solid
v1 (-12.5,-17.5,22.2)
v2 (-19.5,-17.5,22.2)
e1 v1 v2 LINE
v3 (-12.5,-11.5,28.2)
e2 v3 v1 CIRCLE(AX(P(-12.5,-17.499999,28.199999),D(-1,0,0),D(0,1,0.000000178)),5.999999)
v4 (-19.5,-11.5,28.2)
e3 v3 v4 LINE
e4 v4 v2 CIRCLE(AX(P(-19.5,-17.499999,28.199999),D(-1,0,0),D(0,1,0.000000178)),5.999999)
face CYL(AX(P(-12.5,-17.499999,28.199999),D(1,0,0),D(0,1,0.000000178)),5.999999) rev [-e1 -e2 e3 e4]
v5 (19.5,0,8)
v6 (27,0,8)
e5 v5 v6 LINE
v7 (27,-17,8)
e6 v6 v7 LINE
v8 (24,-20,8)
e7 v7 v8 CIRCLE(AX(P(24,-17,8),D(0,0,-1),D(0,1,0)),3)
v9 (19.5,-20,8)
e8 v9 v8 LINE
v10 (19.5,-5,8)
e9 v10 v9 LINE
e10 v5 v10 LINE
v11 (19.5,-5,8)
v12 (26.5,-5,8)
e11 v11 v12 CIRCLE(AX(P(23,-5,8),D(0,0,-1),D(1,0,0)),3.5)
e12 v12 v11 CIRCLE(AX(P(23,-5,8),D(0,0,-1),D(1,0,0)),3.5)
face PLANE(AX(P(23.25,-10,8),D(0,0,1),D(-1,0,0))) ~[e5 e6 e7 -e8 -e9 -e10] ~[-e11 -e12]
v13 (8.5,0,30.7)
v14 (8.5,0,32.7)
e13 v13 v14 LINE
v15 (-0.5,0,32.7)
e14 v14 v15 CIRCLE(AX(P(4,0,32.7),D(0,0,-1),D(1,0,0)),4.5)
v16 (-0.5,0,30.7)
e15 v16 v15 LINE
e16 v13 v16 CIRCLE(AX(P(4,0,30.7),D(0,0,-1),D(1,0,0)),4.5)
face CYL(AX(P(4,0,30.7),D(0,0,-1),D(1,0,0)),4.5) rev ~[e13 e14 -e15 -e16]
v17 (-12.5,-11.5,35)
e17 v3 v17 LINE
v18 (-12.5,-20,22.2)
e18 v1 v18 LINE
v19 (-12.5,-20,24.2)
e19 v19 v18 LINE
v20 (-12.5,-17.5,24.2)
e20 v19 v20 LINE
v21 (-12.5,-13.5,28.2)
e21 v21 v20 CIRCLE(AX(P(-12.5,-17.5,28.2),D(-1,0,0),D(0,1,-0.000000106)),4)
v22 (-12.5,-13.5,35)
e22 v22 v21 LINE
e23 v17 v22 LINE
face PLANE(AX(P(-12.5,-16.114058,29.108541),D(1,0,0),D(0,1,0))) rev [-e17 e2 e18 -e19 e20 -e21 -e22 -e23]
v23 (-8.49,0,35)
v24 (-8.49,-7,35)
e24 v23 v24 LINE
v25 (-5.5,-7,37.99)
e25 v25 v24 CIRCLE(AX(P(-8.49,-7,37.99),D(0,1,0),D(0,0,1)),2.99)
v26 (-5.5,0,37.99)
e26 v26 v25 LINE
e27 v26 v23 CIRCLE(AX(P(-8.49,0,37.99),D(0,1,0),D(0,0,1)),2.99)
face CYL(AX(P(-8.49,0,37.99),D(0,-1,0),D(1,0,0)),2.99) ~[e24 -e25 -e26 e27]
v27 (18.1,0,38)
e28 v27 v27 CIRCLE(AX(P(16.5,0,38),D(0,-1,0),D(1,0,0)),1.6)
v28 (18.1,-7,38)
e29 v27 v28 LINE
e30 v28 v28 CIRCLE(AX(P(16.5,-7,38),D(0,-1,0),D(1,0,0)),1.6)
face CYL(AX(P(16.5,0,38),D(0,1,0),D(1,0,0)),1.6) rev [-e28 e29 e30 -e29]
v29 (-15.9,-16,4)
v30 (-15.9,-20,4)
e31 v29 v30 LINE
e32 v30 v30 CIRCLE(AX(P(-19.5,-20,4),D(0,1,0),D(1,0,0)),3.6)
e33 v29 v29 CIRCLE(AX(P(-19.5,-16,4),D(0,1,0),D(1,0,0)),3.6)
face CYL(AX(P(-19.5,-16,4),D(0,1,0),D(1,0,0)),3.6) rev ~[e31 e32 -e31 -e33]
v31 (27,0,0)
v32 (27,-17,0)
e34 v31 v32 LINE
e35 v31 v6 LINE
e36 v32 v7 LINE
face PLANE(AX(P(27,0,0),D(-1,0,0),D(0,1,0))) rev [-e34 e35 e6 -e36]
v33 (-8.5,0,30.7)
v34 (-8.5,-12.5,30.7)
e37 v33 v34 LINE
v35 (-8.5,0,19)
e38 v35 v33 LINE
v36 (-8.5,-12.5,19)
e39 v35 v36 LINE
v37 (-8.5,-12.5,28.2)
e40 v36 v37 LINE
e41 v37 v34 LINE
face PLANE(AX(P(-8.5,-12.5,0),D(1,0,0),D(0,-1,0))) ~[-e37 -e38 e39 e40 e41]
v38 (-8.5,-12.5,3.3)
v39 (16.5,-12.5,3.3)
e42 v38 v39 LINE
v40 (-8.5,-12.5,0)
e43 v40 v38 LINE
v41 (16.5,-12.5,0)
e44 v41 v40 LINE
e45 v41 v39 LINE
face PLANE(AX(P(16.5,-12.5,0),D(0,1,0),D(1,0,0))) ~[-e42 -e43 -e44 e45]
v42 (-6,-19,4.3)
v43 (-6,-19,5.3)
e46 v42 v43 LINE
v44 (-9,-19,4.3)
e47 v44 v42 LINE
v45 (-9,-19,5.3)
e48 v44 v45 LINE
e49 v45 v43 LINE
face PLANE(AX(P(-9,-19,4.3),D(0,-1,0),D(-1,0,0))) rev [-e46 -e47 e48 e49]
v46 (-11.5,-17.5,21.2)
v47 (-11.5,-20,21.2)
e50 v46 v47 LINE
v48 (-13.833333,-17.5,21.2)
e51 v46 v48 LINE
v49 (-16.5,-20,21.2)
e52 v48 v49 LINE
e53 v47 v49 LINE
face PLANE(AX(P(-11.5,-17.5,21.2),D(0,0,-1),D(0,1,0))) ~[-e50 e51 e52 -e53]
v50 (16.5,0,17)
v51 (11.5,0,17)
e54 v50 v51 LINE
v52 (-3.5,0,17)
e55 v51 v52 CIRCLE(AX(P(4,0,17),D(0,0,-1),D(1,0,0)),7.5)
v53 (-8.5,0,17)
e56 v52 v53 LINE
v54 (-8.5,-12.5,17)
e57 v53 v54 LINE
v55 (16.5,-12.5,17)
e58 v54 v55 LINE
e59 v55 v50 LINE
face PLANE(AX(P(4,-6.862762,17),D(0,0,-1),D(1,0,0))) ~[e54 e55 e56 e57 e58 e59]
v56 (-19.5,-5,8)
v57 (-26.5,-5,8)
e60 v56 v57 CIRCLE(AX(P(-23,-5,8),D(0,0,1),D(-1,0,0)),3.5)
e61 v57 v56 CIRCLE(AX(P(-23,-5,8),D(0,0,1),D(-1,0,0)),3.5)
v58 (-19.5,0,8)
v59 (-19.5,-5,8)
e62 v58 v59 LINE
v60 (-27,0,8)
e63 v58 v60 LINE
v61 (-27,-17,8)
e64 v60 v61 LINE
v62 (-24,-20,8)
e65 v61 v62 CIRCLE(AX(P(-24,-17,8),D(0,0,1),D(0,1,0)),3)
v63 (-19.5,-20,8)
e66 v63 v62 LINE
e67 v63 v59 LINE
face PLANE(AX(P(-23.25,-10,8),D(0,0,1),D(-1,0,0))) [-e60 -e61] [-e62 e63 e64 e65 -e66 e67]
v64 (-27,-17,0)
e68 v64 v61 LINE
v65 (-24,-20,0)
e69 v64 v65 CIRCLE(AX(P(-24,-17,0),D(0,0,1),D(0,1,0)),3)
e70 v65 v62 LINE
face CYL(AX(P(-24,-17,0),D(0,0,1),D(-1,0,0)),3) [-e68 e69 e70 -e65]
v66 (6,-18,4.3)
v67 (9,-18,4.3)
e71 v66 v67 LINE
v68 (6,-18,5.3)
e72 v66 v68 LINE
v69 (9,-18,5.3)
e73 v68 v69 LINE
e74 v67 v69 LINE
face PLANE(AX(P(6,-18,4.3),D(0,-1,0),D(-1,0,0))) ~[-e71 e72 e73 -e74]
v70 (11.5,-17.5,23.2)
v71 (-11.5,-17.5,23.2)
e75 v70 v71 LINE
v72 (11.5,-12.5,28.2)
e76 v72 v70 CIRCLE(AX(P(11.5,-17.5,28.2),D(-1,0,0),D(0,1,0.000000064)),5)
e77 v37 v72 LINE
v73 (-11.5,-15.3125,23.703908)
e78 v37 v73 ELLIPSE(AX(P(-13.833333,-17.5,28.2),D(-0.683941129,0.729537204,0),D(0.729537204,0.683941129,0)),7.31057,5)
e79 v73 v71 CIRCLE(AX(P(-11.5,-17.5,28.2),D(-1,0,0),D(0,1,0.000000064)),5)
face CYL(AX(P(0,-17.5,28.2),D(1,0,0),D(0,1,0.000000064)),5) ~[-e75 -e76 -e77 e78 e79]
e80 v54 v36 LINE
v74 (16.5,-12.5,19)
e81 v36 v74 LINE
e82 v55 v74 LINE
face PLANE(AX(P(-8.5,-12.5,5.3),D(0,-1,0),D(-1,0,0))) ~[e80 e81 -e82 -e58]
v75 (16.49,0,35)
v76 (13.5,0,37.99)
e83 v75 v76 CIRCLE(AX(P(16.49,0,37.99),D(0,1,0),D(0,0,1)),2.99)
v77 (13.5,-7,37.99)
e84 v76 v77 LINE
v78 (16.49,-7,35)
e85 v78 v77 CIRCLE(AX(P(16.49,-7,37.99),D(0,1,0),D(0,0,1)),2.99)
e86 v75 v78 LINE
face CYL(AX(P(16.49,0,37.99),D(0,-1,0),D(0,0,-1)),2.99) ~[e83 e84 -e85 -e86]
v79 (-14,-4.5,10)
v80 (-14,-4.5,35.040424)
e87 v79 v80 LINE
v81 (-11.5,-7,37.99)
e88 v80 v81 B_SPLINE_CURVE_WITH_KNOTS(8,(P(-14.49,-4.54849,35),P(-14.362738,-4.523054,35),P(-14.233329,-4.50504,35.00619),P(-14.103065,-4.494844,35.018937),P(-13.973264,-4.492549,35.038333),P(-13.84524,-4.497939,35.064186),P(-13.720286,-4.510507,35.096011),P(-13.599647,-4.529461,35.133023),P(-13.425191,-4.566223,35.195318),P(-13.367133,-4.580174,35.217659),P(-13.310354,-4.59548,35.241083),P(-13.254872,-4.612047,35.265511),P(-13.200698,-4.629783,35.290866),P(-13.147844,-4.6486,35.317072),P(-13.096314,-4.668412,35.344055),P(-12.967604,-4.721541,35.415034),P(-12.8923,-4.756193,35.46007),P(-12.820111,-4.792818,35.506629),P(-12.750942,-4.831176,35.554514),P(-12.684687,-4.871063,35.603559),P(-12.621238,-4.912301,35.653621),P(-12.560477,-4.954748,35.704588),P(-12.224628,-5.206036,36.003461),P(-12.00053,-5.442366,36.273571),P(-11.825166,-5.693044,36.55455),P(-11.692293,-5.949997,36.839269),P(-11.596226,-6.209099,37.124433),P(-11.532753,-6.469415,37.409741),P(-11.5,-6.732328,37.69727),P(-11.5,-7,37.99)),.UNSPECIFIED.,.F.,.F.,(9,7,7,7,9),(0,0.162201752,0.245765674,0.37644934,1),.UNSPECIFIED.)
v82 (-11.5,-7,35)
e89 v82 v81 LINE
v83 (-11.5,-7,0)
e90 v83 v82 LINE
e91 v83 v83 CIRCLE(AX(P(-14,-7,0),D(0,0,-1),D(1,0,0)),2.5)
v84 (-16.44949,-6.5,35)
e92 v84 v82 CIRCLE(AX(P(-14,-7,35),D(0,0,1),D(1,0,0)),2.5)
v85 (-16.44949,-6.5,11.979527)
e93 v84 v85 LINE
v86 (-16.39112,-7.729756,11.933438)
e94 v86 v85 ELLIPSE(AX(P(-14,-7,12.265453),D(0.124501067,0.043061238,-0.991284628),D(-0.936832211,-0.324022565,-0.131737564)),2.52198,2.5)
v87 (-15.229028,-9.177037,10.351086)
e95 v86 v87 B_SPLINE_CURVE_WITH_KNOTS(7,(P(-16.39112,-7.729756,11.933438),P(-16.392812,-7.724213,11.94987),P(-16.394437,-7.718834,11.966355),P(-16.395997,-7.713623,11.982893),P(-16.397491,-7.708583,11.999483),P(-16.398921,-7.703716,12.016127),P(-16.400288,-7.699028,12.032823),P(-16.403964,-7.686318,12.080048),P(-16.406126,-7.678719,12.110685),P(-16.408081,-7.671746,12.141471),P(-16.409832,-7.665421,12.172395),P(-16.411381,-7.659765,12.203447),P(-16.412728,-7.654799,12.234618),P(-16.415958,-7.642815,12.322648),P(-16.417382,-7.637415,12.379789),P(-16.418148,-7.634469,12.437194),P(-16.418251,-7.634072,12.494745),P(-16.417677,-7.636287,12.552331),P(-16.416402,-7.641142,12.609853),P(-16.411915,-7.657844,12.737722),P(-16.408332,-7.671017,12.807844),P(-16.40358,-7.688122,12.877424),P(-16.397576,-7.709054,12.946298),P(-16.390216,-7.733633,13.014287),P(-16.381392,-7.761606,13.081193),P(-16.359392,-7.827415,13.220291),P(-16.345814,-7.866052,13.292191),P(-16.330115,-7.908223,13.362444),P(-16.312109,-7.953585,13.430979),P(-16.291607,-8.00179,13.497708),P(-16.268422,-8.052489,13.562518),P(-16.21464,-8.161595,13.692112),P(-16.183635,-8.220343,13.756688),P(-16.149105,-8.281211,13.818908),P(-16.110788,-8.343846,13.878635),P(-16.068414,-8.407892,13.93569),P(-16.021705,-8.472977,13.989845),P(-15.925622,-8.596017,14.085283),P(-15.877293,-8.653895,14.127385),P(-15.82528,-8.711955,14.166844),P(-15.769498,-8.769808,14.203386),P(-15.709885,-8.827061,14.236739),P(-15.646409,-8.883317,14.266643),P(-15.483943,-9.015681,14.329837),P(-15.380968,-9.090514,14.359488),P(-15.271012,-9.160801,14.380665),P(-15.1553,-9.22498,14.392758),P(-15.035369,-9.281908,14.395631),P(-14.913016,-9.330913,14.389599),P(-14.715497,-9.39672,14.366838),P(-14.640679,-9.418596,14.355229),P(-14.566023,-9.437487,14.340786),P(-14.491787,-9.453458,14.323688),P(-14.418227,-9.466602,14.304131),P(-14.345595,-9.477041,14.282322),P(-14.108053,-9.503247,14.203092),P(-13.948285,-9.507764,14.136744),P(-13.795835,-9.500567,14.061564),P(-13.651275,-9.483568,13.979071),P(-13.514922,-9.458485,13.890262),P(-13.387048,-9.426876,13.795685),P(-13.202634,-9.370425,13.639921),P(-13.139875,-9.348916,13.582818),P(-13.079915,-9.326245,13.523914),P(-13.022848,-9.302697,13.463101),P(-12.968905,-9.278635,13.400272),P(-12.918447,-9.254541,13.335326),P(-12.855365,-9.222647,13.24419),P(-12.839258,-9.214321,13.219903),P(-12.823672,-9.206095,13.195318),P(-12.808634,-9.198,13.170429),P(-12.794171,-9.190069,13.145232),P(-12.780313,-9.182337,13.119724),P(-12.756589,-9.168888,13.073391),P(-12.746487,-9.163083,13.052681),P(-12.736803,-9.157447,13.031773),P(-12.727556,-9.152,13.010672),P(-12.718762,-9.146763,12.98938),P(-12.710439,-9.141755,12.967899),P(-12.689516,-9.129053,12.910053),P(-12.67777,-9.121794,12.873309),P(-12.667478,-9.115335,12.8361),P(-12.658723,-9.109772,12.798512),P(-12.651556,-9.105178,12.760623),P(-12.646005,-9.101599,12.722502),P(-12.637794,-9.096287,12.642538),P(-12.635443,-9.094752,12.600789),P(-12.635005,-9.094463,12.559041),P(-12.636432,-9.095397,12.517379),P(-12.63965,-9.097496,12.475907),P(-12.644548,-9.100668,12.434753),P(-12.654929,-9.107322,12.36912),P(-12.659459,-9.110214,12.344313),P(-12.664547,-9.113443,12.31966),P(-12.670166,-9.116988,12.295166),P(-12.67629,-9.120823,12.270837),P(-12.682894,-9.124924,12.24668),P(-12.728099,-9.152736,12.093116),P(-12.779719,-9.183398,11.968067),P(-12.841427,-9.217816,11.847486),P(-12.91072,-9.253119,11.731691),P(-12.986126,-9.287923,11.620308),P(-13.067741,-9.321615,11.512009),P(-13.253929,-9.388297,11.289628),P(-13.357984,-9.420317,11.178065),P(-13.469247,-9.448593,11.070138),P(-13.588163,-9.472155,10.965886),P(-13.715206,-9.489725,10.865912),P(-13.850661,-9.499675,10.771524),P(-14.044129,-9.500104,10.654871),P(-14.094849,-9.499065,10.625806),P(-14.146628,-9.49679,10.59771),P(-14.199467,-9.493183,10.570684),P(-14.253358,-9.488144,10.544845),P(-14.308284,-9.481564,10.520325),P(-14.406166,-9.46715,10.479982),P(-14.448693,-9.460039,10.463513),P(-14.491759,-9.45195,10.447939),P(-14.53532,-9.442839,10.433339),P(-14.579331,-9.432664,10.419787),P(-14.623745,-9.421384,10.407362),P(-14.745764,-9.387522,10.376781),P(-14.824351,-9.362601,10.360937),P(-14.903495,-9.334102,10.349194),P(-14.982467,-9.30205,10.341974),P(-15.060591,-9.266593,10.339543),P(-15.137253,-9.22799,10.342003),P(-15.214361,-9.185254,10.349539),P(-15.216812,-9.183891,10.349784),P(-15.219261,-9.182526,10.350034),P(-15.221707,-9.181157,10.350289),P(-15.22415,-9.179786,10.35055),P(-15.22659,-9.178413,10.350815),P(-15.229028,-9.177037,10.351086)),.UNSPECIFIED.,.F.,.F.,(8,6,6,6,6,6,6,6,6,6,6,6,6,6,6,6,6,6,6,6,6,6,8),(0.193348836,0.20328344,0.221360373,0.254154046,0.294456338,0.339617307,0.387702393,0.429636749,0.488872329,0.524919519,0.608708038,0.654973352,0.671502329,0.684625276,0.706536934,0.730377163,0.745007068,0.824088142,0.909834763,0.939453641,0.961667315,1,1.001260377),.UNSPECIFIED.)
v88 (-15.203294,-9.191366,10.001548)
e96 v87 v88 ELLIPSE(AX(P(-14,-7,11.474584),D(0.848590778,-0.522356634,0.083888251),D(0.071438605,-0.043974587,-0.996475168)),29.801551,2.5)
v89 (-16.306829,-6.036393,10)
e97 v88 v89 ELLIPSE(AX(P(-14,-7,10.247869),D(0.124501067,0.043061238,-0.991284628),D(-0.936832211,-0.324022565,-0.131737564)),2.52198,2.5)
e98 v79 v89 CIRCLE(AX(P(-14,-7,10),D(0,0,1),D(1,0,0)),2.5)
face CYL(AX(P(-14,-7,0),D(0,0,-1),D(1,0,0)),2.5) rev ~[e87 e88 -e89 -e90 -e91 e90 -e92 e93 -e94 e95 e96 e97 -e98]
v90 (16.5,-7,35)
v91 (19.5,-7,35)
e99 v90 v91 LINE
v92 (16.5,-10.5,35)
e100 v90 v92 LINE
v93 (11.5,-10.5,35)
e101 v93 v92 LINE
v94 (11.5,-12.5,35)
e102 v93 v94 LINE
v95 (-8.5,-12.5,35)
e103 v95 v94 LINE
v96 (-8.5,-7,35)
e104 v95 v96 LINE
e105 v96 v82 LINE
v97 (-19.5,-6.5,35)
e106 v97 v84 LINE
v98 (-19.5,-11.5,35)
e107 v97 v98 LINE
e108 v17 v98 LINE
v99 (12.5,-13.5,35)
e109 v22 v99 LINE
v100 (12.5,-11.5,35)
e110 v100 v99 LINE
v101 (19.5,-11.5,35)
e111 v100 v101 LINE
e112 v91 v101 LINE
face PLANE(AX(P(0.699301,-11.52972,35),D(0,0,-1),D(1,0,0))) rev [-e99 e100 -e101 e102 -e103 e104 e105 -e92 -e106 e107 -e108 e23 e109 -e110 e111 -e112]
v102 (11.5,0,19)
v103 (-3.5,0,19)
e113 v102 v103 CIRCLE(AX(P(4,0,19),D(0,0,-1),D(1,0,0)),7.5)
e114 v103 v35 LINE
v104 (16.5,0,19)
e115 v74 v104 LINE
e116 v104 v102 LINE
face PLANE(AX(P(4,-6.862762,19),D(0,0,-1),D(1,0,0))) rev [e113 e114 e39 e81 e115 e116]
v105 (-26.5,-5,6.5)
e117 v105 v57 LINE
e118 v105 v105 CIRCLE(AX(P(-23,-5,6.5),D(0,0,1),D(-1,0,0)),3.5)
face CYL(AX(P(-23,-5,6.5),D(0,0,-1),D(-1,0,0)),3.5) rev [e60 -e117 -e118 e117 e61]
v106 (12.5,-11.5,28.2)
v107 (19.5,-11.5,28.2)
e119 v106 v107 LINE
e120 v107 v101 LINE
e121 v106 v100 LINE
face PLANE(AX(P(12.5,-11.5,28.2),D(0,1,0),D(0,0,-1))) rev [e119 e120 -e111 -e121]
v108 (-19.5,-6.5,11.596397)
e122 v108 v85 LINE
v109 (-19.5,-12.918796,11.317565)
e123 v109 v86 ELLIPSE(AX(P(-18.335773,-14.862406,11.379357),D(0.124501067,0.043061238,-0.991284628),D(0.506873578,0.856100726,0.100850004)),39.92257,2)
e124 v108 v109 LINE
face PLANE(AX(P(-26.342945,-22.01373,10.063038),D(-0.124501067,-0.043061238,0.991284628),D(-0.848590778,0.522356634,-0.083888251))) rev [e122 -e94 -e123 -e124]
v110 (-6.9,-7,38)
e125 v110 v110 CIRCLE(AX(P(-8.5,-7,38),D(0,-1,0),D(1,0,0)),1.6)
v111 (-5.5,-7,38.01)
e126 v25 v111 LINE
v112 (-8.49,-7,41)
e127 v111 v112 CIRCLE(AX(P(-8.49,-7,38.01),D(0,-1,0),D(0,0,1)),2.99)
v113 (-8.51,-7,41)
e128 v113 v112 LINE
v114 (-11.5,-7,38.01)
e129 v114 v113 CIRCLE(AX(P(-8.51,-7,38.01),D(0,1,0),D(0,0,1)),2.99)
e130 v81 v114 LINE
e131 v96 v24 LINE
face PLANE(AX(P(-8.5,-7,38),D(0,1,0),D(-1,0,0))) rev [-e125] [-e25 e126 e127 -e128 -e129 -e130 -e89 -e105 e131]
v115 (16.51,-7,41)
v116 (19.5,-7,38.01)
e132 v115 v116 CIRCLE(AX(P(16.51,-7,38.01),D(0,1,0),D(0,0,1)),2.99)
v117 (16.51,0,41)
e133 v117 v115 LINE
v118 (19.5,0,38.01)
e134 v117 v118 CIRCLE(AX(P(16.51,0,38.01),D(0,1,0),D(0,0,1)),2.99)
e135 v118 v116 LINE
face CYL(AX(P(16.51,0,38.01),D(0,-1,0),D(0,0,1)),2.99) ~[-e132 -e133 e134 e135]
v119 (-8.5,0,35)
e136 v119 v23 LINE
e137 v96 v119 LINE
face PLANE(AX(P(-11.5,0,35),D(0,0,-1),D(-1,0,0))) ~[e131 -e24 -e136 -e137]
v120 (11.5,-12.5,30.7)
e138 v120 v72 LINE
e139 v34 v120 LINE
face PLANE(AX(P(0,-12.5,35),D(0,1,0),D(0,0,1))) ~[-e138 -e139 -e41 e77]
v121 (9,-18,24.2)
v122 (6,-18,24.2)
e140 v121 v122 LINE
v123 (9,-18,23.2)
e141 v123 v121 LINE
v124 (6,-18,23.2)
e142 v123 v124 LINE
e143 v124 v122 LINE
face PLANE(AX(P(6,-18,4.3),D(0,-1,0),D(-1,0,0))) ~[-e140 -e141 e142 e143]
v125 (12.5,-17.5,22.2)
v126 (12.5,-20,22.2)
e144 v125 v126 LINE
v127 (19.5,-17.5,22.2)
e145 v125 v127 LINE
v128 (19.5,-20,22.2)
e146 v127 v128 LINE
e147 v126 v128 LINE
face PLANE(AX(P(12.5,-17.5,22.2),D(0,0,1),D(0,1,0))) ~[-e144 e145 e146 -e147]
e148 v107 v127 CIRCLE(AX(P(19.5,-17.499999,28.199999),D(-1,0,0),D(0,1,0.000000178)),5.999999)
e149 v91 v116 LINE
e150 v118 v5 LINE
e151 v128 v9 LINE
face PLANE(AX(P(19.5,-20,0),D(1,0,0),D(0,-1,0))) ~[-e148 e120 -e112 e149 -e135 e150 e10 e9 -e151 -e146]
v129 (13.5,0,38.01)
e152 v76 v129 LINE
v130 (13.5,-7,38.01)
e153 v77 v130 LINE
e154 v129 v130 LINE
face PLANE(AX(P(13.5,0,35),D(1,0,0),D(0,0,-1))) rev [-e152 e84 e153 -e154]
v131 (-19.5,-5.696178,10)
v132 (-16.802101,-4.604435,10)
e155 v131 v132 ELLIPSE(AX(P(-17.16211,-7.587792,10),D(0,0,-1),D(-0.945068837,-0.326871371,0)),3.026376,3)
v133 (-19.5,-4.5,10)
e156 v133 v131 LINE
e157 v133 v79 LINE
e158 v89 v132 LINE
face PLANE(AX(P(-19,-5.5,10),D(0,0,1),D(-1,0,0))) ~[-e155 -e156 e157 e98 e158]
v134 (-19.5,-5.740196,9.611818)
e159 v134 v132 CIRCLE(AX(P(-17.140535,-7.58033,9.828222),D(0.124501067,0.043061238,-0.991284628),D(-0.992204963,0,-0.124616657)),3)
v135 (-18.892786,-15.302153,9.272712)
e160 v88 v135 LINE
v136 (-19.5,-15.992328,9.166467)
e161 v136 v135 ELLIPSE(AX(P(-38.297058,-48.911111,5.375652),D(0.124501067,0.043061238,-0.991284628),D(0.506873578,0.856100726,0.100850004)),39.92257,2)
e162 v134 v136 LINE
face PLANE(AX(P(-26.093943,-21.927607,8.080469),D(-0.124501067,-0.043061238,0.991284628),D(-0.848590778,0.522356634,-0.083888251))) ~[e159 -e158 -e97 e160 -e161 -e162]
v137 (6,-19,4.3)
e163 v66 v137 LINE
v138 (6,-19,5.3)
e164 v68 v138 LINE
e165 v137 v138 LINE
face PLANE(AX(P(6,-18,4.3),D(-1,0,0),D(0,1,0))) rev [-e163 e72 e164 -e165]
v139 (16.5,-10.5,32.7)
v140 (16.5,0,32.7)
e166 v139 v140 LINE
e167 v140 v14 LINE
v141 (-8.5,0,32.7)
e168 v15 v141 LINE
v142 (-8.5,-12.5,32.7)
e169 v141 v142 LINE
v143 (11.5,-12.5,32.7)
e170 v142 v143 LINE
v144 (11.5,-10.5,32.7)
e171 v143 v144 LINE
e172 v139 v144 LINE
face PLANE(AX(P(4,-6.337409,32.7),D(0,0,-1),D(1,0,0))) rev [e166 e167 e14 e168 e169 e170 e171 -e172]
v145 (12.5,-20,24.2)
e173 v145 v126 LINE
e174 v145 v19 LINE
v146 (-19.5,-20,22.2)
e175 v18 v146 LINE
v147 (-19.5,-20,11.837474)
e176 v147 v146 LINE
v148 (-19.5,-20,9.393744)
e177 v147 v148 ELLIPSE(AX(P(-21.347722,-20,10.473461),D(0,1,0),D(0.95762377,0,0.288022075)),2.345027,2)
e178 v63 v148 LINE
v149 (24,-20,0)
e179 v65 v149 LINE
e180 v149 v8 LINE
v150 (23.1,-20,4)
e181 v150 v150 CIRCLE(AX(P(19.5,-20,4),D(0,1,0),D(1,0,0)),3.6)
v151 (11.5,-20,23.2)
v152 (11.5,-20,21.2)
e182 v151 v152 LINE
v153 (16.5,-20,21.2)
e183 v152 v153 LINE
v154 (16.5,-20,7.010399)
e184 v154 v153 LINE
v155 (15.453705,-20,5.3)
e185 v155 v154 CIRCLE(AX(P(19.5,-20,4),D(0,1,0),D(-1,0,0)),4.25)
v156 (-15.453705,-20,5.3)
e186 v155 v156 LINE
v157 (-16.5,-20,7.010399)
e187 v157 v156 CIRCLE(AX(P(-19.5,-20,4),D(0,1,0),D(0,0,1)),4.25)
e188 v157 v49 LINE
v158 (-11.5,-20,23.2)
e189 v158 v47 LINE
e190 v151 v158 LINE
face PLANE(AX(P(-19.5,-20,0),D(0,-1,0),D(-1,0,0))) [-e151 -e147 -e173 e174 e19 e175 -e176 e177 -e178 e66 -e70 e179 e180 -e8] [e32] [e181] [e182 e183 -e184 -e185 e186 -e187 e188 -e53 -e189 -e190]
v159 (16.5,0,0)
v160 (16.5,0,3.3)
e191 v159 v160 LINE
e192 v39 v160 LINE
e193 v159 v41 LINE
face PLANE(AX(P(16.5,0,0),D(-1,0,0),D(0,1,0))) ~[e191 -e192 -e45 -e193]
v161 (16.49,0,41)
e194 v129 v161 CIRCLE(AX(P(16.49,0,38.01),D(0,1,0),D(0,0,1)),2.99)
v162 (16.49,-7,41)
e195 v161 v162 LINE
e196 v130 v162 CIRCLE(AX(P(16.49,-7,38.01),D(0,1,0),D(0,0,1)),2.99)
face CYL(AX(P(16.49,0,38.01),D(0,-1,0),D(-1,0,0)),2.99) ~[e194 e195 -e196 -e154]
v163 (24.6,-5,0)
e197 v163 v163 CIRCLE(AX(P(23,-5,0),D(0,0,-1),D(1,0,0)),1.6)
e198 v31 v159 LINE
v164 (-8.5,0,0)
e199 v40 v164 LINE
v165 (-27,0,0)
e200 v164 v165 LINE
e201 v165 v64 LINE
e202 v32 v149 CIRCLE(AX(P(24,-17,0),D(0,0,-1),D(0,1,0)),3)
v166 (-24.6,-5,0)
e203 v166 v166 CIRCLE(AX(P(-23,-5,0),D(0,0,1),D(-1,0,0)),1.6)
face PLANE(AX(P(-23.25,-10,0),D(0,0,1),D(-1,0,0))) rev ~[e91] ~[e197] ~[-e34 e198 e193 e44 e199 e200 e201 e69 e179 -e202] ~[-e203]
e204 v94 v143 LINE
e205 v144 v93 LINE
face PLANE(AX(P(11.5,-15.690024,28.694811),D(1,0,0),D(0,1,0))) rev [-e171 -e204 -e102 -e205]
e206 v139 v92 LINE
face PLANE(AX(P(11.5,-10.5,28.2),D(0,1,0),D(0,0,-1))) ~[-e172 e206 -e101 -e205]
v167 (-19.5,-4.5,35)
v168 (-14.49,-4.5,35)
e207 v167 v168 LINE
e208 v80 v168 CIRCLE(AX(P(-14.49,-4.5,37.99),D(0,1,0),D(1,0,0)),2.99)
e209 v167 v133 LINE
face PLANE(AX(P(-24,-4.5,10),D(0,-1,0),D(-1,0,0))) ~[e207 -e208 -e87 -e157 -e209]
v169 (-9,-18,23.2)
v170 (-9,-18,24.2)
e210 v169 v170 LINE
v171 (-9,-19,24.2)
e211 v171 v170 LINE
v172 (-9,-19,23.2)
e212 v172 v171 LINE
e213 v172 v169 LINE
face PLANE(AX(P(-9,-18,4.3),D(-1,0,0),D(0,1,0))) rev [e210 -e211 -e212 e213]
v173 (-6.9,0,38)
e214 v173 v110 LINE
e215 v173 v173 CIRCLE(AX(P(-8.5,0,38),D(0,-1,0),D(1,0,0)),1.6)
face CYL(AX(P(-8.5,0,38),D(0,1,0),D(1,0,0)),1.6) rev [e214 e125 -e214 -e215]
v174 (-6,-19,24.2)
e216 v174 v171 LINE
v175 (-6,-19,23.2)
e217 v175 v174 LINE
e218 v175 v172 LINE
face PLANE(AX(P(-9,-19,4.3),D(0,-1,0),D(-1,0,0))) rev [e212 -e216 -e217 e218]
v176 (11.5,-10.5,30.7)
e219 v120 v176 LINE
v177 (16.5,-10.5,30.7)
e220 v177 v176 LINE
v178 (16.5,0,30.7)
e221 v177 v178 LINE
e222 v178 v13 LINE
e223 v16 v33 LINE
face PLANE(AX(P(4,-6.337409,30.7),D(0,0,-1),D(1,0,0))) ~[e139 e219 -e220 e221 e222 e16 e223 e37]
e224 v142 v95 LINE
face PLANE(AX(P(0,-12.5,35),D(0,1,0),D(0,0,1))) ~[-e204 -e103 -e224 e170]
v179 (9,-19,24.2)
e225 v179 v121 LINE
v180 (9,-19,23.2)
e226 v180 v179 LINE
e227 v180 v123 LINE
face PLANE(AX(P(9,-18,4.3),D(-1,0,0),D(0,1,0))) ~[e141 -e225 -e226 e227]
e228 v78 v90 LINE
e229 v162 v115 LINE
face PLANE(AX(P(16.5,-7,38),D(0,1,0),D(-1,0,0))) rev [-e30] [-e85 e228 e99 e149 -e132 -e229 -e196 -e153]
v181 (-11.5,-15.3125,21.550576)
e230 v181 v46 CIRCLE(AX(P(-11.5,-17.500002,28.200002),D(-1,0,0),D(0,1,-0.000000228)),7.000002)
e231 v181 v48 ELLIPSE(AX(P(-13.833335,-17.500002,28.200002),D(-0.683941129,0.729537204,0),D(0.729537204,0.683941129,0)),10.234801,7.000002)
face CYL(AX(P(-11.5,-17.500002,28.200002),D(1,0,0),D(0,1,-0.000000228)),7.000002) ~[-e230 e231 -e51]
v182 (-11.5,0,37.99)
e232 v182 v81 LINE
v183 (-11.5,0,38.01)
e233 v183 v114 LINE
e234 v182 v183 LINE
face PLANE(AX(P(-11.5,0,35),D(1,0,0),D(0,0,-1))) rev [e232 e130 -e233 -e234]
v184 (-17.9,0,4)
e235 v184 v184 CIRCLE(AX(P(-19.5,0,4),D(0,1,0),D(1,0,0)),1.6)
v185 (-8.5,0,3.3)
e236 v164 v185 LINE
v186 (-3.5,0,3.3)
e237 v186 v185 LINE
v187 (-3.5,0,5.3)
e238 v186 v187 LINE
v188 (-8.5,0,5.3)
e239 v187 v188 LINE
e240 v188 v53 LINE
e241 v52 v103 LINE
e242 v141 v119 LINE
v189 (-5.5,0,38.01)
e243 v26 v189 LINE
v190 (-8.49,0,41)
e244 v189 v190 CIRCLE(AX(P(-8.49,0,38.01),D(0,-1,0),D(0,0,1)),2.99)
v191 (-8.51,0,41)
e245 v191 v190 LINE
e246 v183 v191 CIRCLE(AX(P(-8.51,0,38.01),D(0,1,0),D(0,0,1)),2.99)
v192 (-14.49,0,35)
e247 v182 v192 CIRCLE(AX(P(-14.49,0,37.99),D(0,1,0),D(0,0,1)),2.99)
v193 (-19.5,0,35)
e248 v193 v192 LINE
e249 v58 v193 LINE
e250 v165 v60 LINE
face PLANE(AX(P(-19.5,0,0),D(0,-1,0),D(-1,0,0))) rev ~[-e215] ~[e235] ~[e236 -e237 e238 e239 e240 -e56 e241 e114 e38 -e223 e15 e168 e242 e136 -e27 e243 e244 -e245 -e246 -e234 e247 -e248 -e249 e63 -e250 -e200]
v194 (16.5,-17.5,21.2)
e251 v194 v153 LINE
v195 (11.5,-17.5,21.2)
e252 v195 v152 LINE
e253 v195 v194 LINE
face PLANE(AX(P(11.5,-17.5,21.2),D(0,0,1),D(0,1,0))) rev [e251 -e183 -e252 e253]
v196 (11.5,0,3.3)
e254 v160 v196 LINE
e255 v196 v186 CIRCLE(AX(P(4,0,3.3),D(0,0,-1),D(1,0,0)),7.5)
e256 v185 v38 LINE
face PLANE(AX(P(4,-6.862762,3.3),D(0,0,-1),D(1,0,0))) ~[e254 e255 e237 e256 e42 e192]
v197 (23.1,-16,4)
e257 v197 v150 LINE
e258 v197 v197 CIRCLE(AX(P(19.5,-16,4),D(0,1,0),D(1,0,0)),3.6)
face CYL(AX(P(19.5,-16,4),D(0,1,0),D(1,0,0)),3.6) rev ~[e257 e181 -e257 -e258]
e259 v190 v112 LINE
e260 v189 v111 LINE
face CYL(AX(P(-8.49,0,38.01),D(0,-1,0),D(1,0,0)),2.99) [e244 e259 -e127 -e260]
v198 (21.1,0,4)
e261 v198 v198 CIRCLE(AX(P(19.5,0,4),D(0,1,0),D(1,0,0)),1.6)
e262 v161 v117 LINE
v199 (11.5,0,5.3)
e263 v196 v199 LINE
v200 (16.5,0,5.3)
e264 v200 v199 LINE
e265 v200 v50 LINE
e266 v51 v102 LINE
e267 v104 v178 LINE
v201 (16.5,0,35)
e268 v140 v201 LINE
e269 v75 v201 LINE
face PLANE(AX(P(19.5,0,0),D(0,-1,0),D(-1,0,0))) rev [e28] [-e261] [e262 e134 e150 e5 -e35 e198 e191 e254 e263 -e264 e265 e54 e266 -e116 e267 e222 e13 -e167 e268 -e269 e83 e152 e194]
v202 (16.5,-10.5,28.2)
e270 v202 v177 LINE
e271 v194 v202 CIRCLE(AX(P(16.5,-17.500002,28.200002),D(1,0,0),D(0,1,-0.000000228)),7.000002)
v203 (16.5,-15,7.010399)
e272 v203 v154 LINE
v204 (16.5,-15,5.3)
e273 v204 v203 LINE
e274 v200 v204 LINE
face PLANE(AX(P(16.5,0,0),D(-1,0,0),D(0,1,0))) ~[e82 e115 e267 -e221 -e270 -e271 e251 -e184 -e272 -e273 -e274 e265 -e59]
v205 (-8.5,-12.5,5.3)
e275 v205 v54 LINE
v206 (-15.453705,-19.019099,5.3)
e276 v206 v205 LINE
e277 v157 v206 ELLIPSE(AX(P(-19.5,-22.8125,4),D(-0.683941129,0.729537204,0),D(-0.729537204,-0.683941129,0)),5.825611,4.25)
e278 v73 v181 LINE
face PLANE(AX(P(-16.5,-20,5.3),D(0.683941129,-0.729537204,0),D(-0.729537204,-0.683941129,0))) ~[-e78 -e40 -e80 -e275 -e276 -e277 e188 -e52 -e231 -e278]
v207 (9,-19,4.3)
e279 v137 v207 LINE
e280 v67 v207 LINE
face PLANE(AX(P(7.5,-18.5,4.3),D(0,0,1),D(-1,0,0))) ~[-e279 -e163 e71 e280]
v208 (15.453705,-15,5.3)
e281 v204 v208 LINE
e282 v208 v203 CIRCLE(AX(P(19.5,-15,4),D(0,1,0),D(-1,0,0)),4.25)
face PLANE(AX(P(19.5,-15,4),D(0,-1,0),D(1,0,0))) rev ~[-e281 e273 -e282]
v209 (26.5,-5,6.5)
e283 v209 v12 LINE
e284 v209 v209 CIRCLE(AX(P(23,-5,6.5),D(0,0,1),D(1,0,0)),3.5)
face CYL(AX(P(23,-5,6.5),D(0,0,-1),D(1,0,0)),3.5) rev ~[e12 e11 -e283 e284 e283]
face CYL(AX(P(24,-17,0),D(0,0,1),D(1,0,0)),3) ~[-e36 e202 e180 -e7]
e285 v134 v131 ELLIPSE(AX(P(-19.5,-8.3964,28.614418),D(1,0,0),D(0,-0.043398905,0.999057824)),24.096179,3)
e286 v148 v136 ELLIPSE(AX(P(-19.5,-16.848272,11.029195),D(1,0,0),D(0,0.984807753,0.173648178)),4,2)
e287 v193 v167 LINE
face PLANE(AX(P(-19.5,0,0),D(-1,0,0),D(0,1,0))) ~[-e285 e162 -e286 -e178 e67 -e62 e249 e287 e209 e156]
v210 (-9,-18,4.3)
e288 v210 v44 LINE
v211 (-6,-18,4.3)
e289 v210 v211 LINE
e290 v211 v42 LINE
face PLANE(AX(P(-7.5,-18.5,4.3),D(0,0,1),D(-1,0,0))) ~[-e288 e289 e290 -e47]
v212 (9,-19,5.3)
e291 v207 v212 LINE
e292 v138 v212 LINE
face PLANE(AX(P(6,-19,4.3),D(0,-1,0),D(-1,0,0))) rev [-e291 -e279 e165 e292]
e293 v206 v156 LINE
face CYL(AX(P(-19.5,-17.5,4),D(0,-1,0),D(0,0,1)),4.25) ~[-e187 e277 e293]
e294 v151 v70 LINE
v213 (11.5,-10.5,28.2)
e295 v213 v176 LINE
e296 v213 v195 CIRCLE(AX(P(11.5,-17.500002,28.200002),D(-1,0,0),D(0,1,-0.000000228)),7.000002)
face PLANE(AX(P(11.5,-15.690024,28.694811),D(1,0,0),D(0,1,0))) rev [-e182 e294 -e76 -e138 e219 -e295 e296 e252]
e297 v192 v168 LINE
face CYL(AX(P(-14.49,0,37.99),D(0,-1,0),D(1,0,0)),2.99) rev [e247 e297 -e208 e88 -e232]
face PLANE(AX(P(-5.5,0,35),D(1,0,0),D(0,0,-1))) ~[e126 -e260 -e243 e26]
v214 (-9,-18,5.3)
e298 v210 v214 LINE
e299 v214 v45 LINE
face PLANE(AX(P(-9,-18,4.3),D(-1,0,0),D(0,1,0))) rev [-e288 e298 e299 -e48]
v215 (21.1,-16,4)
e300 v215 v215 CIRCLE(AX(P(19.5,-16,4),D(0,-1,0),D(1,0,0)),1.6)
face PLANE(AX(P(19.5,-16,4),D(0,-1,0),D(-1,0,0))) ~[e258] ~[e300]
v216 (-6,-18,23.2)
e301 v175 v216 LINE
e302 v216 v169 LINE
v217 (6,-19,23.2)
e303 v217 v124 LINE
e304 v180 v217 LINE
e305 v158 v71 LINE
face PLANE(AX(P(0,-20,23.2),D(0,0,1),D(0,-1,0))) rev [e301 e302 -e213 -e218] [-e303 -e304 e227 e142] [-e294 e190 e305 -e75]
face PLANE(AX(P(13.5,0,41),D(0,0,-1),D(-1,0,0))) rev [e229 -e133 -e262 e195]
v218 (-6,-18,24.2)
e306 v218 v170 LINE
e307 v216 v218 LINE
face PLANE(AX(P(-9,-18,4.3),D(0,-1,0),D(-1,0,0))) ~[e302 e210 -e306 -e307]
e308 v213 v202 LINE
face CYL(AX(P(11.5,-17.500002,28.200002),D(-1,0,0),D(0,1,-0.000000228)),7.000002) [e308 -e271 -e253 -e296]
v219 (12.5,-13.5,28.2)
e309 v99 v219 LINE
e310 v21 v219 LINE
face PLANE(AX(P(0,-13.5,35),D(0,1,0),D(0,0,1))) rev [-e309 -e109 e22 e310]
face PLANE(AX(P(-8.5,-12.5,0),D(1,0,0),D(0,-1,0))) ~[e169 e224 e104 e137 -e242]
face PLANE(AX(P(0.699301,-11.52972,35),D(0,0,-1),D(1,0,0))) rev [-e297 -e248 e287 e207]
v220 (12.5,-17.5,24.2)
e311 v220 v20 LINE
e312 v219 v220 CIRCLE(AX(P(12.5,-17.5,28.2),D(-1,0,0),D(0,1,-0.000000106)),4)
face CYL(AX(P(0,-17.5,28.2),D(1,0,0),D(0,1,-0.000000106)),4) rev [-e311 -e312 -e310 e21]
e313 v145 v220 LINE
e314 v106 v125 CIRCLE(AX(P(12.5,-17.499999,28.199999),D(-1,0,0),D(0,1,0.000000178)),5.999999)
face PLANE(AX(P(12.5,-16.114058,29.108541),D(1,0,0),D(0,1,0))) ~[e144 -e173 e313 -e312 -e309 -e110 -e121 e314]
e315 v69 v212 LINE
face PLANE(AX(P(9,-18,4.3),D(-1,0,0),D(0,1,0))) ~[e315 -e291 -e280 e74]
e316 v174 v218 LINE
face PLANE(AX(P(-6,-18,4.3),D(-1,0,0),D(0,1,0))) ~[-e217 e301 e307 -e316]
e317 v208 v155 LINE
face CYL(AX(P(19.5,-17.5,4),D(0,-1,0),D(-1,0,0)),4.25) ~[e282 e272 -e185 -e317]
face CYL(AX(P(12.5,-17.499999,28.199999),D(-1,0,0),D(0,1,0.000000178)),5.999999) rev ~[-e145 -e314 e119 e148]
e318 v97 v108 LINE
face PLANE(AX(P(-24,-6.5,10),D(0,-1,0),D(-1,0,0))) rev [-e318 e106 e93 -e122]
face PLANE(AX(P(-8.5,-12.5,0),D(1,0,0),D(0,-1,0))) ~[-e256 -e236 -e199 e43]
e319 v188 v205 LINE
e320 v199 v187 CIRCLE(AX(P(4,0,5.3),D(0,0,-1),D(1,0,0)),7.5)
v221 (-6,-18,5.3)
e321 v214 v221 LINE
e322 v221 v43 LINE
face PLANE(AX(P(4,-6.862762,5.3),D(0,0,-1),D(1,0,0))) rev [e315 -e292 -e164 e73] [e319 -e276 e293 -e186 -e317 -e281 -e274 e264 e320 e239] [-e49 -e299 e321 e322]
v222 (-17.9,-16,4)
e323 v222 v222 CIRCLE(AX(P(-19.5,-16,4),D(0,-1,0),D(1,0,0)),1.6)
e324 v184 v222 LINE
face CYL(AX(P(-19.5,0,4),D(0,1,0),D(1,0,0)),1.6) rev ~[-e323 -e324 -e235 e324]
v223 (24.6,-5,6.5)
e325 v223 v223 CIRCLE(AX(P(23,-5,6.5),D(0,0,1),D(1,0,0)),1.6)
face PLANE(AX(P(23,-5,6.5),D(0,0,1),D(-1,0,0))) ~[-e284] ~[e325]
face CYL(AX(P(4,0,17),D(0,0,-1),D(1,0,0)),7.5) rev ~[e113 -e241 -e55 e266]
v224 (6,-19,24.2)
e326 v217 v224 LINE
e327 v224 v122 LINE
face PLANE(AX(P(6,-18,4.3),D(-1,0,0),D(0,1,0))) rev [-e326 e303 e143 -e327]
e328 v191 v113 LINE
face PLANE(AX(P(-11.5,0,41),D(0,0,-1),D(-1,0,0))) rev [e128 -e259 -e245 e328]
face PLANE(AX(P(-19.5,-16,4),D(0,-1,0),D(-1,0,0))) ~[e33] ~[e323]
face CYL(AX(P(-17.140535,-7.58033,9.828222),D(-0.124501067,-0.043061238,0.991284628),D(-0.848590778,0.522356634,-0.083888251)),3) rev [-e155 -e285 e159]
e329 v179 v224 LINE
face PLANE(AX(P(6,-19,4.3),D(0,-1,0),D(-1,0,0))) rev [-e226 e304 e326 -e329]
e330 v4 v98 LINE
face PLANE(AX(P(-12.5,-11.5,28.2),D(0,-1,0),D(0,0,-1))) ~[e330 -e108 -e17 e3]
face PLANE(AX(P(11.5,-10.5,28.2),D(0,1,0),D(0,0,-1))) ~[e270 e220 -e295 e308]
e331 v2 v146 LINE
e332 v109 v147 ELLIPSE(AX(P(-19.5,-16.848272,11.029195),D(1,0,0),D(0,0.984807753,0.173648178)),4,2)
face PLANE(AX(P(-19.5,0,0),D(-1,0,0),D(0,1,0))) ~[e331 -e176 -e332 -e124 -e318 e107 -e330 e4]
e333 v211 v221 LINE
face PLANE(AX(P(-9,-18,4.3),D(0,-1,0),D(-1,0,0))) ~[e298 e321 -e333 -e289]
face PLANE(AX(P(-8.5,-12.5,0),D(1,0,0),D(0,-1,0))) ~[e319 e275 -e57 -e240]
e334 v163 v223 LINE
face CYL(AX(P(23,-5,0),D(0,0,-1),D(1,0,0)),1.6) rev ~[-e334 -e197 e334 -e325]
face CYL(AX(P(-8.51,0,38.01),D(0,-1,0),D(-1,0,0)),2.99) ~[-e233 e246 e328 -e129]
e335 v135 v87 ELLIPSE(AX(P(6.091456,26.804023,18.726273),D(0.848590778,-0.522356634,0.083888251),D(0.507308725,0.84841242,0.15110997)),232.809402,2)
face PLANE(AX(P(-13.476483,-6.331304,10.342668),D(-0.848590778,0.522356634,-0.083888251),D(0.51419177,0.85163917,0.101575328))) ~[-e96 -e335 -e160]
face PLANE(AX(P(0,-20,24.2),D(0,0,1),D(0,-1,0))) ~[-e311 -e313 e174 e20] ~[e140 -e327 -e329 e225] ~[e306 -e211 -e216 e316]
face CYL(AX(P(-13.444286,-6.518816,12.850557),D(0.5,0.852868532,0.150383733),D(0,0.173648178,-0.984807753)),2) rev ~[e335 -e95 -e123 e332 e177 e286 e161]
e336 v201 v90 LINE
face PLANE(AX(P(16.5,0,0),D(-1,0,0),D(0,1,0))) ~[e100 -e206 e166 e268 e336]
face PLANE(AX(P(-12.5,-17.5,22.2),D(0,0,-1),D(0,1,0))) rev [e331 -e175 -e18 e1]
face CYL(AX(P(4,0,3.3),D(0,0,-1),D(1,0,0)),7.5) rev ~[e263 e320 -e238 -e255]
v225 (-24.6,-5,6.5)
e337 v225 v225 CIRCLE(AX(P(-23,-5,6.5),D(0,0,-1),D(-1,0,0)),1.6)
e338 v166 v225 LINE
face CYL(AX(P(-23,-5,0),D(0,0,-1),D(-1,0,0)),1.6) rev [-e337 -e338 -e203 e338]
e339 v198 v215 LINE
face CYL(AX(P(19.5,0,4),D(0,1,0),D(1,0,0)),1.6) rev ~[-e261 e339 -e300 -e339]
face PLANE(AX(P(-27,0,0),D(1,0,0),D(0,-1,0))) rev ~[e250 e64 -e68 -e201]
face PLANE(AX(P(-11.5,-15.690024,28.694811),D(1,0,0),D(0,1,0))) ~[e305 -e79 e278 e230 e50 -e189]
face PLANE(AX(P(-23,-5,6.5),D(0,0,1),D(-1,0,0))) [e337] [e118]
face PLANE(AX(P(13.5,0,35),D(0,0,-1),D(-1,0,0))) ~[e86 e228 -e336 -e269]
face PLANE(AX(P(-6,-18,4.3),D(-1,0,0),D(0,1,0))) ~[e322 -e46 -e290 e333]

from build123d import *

# Parameters (mm, degrees)
BOX004_W                    = 3
BOX004_H                    = 1
BOX004_DEPTH                = 20
BOX003_W                    = 3
BOX003_H                    = 1
BOX003_DEPTH                = 20
CYLINDER005_R               = 1.6
CYLINDER005_DEPTH           = 20
CYLINDER007_R               = 2.5
CYLINDER007_DEPTH           = 40
PAD010_DEPTH                = 12.5
PAD010_DEPTH_BACK           = 12.5
PAD011_DEPTH                = 7
PAD009_DEPTH                = 7
CYLINDER009_R               = 2
CYLINDER009_DEPTH           = 40
CYLINDER009_ROLL_ANGLE      = 150
CYLINDER009_PITCH_ANGLE     = 80
CYLINDER009_PLACEMENT_ANGLE = -90
BOX002_W                    = 10
BOX002_H                    = 2
BOX002_DEPTH                = 40
BOX001_W                    = 5.5
BOX001_H                    = 40
BOX001_DEPTH                = 2
BOX001_ROLL_ANGLE           = -5.850586
BOX001_PITCH_ANGLE          = -4.812098
BOX001_PLACEMENT_ANGLE      = 31.614697
FILLET002_R                 = 3
CYLINDER010_R               = 3.6
CYLINDER010_DEPTH           = 4
CYLINDER011_R               = 3.6
CYLINDER011_DEPTH           = 4
CYLINDER003_R               = 1.6
CYLINDER003_DEPTH           = 20
CYLINDER008_R               = 3.5
CYLINDER008_DEPTH           = 1.5
CYLINDER_R                  = 1.6
CYLINDER_DEPTH              = 8
BOX_W                       = 7.5
BOX_H                       = 20
BOX_DEPTH                   = 8
FILLET001_R                 = 3
PAD006_DEPTH                = 11.5
PAD006_DEPTH_BACK           = 11.5
PAD007_DEPTH                = 8
PAD008_DEPTH                = 8
CYLINDER012_W               = 4.25
CYLINDER012_H               = 5
CYLINDER012_ANGLE           = 90
CYLINDER013_W               = 4.25
CYLINDER013_H               = 5
CYLINDER013_ANGLE           = 90
PAD_DEPTH                   = 35
PAD001_DEPTH                = 2
PAD002_DEPTH                = 2
PAD003_DEPTH                = 2
POCKET_DEPTH                = 29.701
SKETCH007_W                 = 6
SKETCH007_H                 = 6
SKETCH007_R                 = 1.6
PAD005_DEPTH                = 7
FILLET_R                    = 2.99


with BuildPart() as fanshroudclip2:
    # Box004 → Box004 (new body)
    with BuildSketch(Plane(origin=(-9, 18, 4.3), x_dir=(1, 0, 0), z_dir=(0, 0, 1))):
        with Locations((1.5, 0.5)):
            Rectangle(BOX004_W, BOX004_H)
    extrude(amount=BOX004_DEPTH)


with BuildPart() as fanshroudclipfusion:
    # Box003 → Box003 (new body)
    with BuildSketch(Plane(origin=(6, 18, 4.3), x_dir=(1, 0, 0), z_dir=(0, 0, 1))):
        with Locations((1.5, 0.5)):
            Rectangle(BOX003_W, BOX003_H)
    extrude(amount=BOX003_DEPTH)

    # Fusion003: union FanShroudClip2
    add(fanshroudclip2.part)


with BuildPart() as clipcilinder3:
    # Cylinder005 → Cylinder005 (new body)
    with BuildSketch(Plane(origin=(-19.5, 0, 4), x_dir=(1, 0, 0), z_dir=(0, 1, 0))):
        Circle(CYLINDER005_R)
    extrude(amount=CYLINDER005_DEPTH)


with BuildPart() as thermistorwirecutcilinder:
    # Cylinder007 → Cylinder007 (new body)
    with BuildSketch(Plane(origin=(-14, 7, 0), x_dir=(1, 0, 0), z_dir=(0, 0, 1))):
        Circle(CYLINDER007_R)
    extrude(amount=CYLINDER007_DEPTH)


with BuildPart() as rodcutbody:
    # Sketch012 → Pad010 (new body, two sides)
    with BuildSketch(Plane.YZ) as pad010_sk:
        with BuildLine():
            Line((0, 0), (-6.5, 0))
            Line((-6.5, 0), (-6.5, -6.8))
            ThreePointArc((-6.5, -6.8), (-5.328427, -9.628427), (-2.5, -10.8))
            Line((0, -10.8), (-2.5, -10.8))
            Line((0, 0), (0, -10.8))
        make_face()
    extrude(amount=PAD010_DEPTH)
    extrude(pad010_sk.sketch, amount=-PAD010_DEPTH_BACK)

    # Sketch011 (on DatumPlane) → Pad011 (join)
    with BuildSketch(Plane.YZ.offset(12.5)):
        with BuildLine():
            ThreePointArc((-8.5, -6.8), (-6.742641, -11.042641), (-2.5, -12.8))
            Line((-2.5, -12.8), (0, -12.8))
            Line((0, 0), (0, -12.8))
            Line((-8.5, 0), (0, 0))
            Line((-8.5, -6.8), (-8.5, 0))
        make_face()
    extrude(amount=PAD011_DEPTH)

    # Sketch013 (on DatumPlane) → Pad009 (join)
    with BuildSketch(Plane.YZ.offset(-12.5)):
        with BuildLine():
            ThreePointArc((-8.5, -6.8), (-6.742641, -11.042641), (-2.5, -12.8))
            Line((-2.5, -12.8), (0, -12.8))
            Line((0, 0), (0, -12.8))
            Line((-8.5, 0), (0, 0))
            Line((-8.5, -6.8), (-8.5, 0))
        make_face()
    extrude(amount=-PAD009_DEPTH)


with BuildPart() as rodcutbody_1:
    # Body002 placement: moved
    add(rodcutbody.part.moved(Location((0, 20, 35))))


with BuildPart() as fanwirecutcilinder:
    # Cylinder009 → Cylinder009 (new body)
    with BuildSketch(Plane.XY):
        Circle(CYLINDER009_R)
    extrude(amount=CYLINDER009_DEPTH)


with BuildPart() as fanwirecutcilinder_1:
    # Cylinder009 roll: moved
    add(fanwirecutcilinder.part.rotate(Axis((0, 0, 0), (1, 0, 0)), CYLINDER009_ROLL_ANGLE))


with BuildPart() as fanwirecutcilinder_2:
    # Cylinder009 pitch: moved
    add(fanwirecutcilinder_1.part.rotate(Axis((0, 0, 0), (0, 1, 0)), CYLINDER009_PITCH_ANGLE))


with BuildPart() as fanwirecutcilinder_3:
    # Cylinder009 placement: moved
    add(fanwirecutcilinder_2.part.moved(Location((-13.444286, 6.518816, 12.850557))).rotate(Axis((-13.444286, 6.518816, 12.850557), (0, 0, 1)), CYLINDER009_PLACEMENT_ANGLE))


with BuildPart() as thermistorwirecutcube:
    # Box002 → Box002 (new body)
    with BuildSketch(Plane(origin=(-24, 4.5, 10), x_dir=(1, 0, 0), z_dir=(0, 0, 1))):
        with Locations((5, 1)):
            Rectangle(BOX002_W, BOX002_H)
    extrude(amount=BOX002_DEPTH)


with BuildPart() as fanwirecutfillet:
    # Box001 → Box001 (new body)
    with BuildSketch(Plane.XY):
        with Locations((2.75, 20)):
            Rectangle(BOX001_W, BOX001_H)
    extrude(amount=BOX001_DEPTH)


with BuildPart() as fanwirecutfillet_1:
    # Box001 roll: moved
    add(fanwirecutfillet.part.rotate(Axis((0, 0, 0), (1, 0, 0)), BOX001_ROLL_ANGLE))


with BuildPart() as fanwirecutfillet_2:
    # Box001 pitch: moved
    add(fanwirecutfillet_1.part.rotate(Axis((0, 0, 0), (0, 1, 0)), BOX001_PITCH_ANGLE))


with BuildPart() as fanwirecutfillet_3:
    # Box001 placement: moved
    add(fanwirecutfillet_2.part.moved(Location((-18.143732, 3.458343, 9.881283))).rotate(Axis((-18.143732, 3.458343, 9.881283), (0, 0, 1)), BOX001_PLACEMENT_ANGLE))

    # Fillet002
    fillet002_edges = [fanwirecutfillet_3.edges().sort_by_distance(p)[0] for p in [
        (-18.268233, 3.501404, 10.872568),
    ]]
    fillet(fillet002_edges, radius=FILLET002_R)


with BuildPart() as screwtopcutcilinder1:
    # Cylinder010 → Cylinder010 (new body)
    with BuildSketch(Plane(origin=(19.5, 16, 4), x_dir=(1, 0, 0), z_dir=(0, 1, 0))):
        Circle(CYLINDER010_R)
    extrude(amount=CYLINDER010_DEPTH)


with BuildPart() as screwtopcutcilinder2:
    # Cylinder011 → Cylinder011 (new body)
    with BuildSketch(Plane(origin=(-19.5, 16, 4), x_dir=(1, 0, 0), z_dir=(0, 1, 0))):
        Circle(CYLINDER011_R)
    extrude(amount=CYLINDER011_DEPTH)


with BuildPart() as casecutsfusion1:
    # Cylinder003 → Cylinder003 (new body)
    with BuildSketch(Plane(origin=(19.5, 0, 4), x_dir=(1, 0, 0), z_dir=(0, 1, 0))):
        Circle(CYLINDER003_R)
    extrude(amount=CYLINDER003_DEPTH)

    # Fusion002: union ClipCilinder3, ThermistorWireCutCilinder, RodCutBody, FanWireCutCilinder, ThermistorWireCutCube, FanWireCutFillet, ScrewTopCutCilinder1, ScrewTopCutCilinder2
    add(clipcilinder3.part)
    add(thermistorwirecutcilinder.part)
    add(rodcutbody_1.part)
    add(fanwirecutcilinder_3.part)
    add(thermistorwirecutcube.part)
    add(fanwirecutfillet_3.part)
    add(screwtopcutcilinder1.part)
    add(screwtopcutcilinder2.part)


with BuildPart() as screwtopcilinder:
    # Cylinder008 → Cylinder008 (new body)
    with BuildSketch(Plane(origin=(5, 5, 6.5), x_dir=(1, 0, 0), z_dir=(0, 0, 1))):
        Circle(CYLINDER008_R)
    extrude(amount=CYLINDER008_DEPTH)


with BuildPart() as clipcilindersfusion:
    # Cylinder → Cylinder (new body)
    with BuildSketch(Plane(origin=(5, 5, 0), x_dir=(1, 0, 0), z_dir=(0, 0, 1))):
        Circle(CYLINDER_R)
    extrude(amount=CYLINDER_DEPTH)

    # Fusion: union ScrewTopCilinder
    add(screwtopcilinder.part)


with BuildPart() as rightclipcut:
    # Box → Box (new body)
    with BuildSketch(Plane(origin=(1.5, 0, 0), x_dir=(1, 0, 0), z_dir=(0, 0, 1))):
        with Locations((3.75, 10)):
            Rectangle(BOX_W, BOX_H)
    extrude(amount=BOX_DEPTH)

    # Fillet001
    fillet001_edges = [rightclipcut.edges().sort_by_distance(p)[0] for p in [
        (9, 20, 4),
    ]]
    fillet(fillet001_edges, radius=FILLET001_R)

    # Cut: cut ClipCilindersFusion
    add(clipcilindersfusion.part, mode=Mode.SUBTRACT)


with BuildPart() as rightclipcut_1:
    # Cut placement: moved
    add(rightclipcut.part.moved(Location((18, 0, 0))))


with BuildPart() as leftclipcut:
    # Part__Mirroring: instance of RightClipCut
    add(rightclipcut_1.part.mirror(Plane(origin=(0, 0, 0), x_dir=(0, -1, 0), z_dir=(1, 0, 0))))


with BuildPart() as rodwallbody:
    # Sketch008 → Pad006 (new body, two sides)
    with BuildSketch(Plane.YZ) as pad006_sk:
        with BuildLine():
            Line((0, 0), (-7.5, 0))
            Line((-7.5, 0), (-7.5, -6.8))
            ThreePointArc((-7.5, -6.8), (-6.035534, -10.335534), (-2.5, -11.8))
            Line((0, -11.8), (-2.5, -11.8))
            Line((0, 0), (0, -11.8))
        make_face()
    extrude(amount=PAD006_DEPTH)
    extrude(pad006_sk.sketch, amount=-PAD006_DEPTH_BACK)

    # Sketch009 (on DatumPlane) → Pad007 (join)
    with BuildSketch(Plane.YZ.offset(11.5)):
        with BuildLine():
            ThreePointArc((-9.5, -6.8), (-7.449747, -11.749747), (-2.5, -13.8))
            Line((-2.5, -13.8), (0, -13.8))
            Line((0, 0), (0, -13.8))
            Line((-9.5, 0), (0, 0))
            Line((-9.5, -6.8), (-9.5, 0))
        make_face()
    extrude(amount=PAD007_DEPTH)

    # Sketch010 (on DatumPlane) → Pad008 (join)
    with BuildSketch(Plane.YZ.offset(-11.5)):
        with BuildLine():
            ThreePointArc((-9.5, -6.8), (-7.449747, -11.749747), (-2.5, -13.8))
            Line((-2.5, -13.8), (0, -13.8))
            Line((0, 0), (0, -13.8))
            Line((-9.5, 0), (0, 0))
            Line((-9.5, -6.8), (-9.5, 0))
        make_face()
    extrude(amount=-PAD008_DEPTH)


with BuildPart() as rodwallbody_1:
    # Body001 placement: moved
    add(rodwallbody.part.moved(Location((0, 20, 35))))


with BuildPart() as screwtopwallcilinder1:
    # Cylinder012 → Cylinder012 (revolve)
    with BuildSketch(Plane(origin=(19.5, 15, 4), x_dir=(-1, 0, 0), z_dir=(0, 0, -1))):
        with Locations((2.125, 2.5)):
            Rectangle(CYLINDER012_W, CYLINDER012_H)
    revolve(axis=Axis((19.5, 15, 4), (0, 1, 0)), revolution_arc=CYLINDER012_ANGLE)


with BuildPart() as screwtopwallcilinder2:
    # Cylinder013 → Cylinder013 (revolve)
    with BuildSketch(Plane(origin=(-19.5, 15, 4), x_dir=(0, 0, 1), z_dir=(-1, 0, 0))):
        with Locations((2.125, 2.5)):
            Rectangle(CYLINDER013_W, CYLINDER013_H)
    revolve(axis=Axis((-19.5, 15, 4), (0, 1, 0)), revolution_arc=CYLINDER013_ANGLE)


with BuildPart() as casecuts2:
    # Sketch → Pad (new body)
    with BuildSketch(Plane.XY):
        Polygon((-12.5, 0), (-15.5, 0), (-23.5, 0), (-23.5, 20), (-15.5, 20), (15.5, 20), (15.5, 0), (12.5, 0), (12.5, 12.5), (-12.5, 12.5), align=None)
    extrude(amount=PAD_DEPTH)

    # Sketch001 (on DatumPlane) → Pad001 (join)
    with BuildSketch(Plane.XY.offset(3.3)):
        with BuildLine():
            ThreePointArc((7.5, 0), (0, 7.5), (-7.5, 0))
            Line((-7.5, 0), (-12.5, 0))
            Line((-12.5, 0), (-12.5, 12.5))
            Line((-12.5, 12.5), (12.5, 12.5))
            Line((12.5, 12.5), (12.5, 0))
            Line((12.5, 0), (7.5, 0))
        make_face()
    extrude(amount=PAD001_DEPTH)

    # Sketch002 (on DatumPlane) → Pad002 (join)
    with BuildSketch(Plane.XY.offset(17)):
        with BuildLine():
            ThreePointArc((7.5, 0), (0, 7.5), (-7.5, 0))
            Line((-7.5, 0), (-12.5, 0))
            Line((-12.5, 0), (-12.5, 12.5))
            Line((-12.5, 12.5), (12.5, 12.5))
            Line((12.5, 12.5), (12.5, 0))
            Line((12.5, 0), (7.5, 0))
        make_face()
    extrude(amount=PAD002_DEPTH)

    # Sketch003 (on DatumPlane) → Pad003 (join)
    with BuildSketch(Plane.XY.offset(30.7)):
        with BuildLine():
            ThreePointArc((4.5, 0), (0, 4.5), (-4.5, 0))
            Line((-4.5, 0), (-12.5, 0))
            Line((-12.5, 0), (-12.5, 12.5))
            Line((-12.5, 12.5), (12.5, 12.5))
            Line((12.5, 12.5), (12.5, 0))
            Line((12.5, 0), (4.5, 0))
        make_face()
    extrude(amount=PAD003_DEPTH)

    # Sketch004 (on DatumPlane) → Pocket (cut, through all)
    with BuildSketch(Plane.XY.offset(5.3)):
        Polygon((12.5, 12.5), (12.5, 20), (-20.5, 20), (-12.5, 12.5), align=None)
    extrude(amount=POCKET_DEPTH, mode=Mode.SUBTRACT)

    # Sketch007 → Pad005 (join)
    with BuildSketch(Plane.XZ):
        with Locations((-12.5, 38)):
            Rectangle(SKETCH007_W, SKETCH007_H)
        with Locations((-12.5, 38)):
            Circle(SKETCH007_R, mode=Mode.SUBTRACT)
        with Locations((12.5, 38)):
            Rectangle(SKETCH007_W, SKETCH007_H)
        with Locations((12.5, 38)):
            Circle(SKETCH007_R, mode=Mode.SUBTRACT)
    extrude(amount=-PAD005_DEPTH)

    # Fillet
    fillet_edges = [casecuts2.edges().sort_by_distance(p)[0] for p in [
        (15.5, 3.5, 41),
        (9.5, 3.5, 41),
        (9.5, 3.5, 35),
        (-9.5, 3.5, 35),
        (-9.5, 3.5, 41),
        (-15.5, 3.5, 41),
        (-15.5, 3.5, 35),
    ]]
    fillet(fillet_edges, radius=FILLET_R)


with BuildPart() as casecuts2_1:
    # Body placement: moved
    add(casecuts2.part.moved(Location((4, 0, 0))))

    # Fusion001: union RightClipCut, LeftClipCut, RodWallBody, ScrewTopWallCilinder1, ScrewTopWallCilinder2
    add(rightclipcut_1.part)
    add(leftclipcut.part)
    add(rodwallbody_1.part)
    add(screwtopwallcilinder1.part)
    add(screwtopwallcilinder2.part)

    # Cut001: cut CaseCutsFusion1
    add(casecutsfusion1.part, mode=Mode.SUBTRACT)

    # Cut002: cut FanShroudClipFusion
    add(fanshroudclipfusion.part, mode=Mode.SUBTRACT)


with BuildPart() as casecuts2_mirror_refined:
    # Part__Mirroring001: instance of CaseCuts2
    add(casecuts2_1.part.mirror(Plane(origin=(0, 0, 0), x_dir=(1, 0, 0), z_dir=(0, 1, 0))))


solid = casecuts2_mirror_refined.part
